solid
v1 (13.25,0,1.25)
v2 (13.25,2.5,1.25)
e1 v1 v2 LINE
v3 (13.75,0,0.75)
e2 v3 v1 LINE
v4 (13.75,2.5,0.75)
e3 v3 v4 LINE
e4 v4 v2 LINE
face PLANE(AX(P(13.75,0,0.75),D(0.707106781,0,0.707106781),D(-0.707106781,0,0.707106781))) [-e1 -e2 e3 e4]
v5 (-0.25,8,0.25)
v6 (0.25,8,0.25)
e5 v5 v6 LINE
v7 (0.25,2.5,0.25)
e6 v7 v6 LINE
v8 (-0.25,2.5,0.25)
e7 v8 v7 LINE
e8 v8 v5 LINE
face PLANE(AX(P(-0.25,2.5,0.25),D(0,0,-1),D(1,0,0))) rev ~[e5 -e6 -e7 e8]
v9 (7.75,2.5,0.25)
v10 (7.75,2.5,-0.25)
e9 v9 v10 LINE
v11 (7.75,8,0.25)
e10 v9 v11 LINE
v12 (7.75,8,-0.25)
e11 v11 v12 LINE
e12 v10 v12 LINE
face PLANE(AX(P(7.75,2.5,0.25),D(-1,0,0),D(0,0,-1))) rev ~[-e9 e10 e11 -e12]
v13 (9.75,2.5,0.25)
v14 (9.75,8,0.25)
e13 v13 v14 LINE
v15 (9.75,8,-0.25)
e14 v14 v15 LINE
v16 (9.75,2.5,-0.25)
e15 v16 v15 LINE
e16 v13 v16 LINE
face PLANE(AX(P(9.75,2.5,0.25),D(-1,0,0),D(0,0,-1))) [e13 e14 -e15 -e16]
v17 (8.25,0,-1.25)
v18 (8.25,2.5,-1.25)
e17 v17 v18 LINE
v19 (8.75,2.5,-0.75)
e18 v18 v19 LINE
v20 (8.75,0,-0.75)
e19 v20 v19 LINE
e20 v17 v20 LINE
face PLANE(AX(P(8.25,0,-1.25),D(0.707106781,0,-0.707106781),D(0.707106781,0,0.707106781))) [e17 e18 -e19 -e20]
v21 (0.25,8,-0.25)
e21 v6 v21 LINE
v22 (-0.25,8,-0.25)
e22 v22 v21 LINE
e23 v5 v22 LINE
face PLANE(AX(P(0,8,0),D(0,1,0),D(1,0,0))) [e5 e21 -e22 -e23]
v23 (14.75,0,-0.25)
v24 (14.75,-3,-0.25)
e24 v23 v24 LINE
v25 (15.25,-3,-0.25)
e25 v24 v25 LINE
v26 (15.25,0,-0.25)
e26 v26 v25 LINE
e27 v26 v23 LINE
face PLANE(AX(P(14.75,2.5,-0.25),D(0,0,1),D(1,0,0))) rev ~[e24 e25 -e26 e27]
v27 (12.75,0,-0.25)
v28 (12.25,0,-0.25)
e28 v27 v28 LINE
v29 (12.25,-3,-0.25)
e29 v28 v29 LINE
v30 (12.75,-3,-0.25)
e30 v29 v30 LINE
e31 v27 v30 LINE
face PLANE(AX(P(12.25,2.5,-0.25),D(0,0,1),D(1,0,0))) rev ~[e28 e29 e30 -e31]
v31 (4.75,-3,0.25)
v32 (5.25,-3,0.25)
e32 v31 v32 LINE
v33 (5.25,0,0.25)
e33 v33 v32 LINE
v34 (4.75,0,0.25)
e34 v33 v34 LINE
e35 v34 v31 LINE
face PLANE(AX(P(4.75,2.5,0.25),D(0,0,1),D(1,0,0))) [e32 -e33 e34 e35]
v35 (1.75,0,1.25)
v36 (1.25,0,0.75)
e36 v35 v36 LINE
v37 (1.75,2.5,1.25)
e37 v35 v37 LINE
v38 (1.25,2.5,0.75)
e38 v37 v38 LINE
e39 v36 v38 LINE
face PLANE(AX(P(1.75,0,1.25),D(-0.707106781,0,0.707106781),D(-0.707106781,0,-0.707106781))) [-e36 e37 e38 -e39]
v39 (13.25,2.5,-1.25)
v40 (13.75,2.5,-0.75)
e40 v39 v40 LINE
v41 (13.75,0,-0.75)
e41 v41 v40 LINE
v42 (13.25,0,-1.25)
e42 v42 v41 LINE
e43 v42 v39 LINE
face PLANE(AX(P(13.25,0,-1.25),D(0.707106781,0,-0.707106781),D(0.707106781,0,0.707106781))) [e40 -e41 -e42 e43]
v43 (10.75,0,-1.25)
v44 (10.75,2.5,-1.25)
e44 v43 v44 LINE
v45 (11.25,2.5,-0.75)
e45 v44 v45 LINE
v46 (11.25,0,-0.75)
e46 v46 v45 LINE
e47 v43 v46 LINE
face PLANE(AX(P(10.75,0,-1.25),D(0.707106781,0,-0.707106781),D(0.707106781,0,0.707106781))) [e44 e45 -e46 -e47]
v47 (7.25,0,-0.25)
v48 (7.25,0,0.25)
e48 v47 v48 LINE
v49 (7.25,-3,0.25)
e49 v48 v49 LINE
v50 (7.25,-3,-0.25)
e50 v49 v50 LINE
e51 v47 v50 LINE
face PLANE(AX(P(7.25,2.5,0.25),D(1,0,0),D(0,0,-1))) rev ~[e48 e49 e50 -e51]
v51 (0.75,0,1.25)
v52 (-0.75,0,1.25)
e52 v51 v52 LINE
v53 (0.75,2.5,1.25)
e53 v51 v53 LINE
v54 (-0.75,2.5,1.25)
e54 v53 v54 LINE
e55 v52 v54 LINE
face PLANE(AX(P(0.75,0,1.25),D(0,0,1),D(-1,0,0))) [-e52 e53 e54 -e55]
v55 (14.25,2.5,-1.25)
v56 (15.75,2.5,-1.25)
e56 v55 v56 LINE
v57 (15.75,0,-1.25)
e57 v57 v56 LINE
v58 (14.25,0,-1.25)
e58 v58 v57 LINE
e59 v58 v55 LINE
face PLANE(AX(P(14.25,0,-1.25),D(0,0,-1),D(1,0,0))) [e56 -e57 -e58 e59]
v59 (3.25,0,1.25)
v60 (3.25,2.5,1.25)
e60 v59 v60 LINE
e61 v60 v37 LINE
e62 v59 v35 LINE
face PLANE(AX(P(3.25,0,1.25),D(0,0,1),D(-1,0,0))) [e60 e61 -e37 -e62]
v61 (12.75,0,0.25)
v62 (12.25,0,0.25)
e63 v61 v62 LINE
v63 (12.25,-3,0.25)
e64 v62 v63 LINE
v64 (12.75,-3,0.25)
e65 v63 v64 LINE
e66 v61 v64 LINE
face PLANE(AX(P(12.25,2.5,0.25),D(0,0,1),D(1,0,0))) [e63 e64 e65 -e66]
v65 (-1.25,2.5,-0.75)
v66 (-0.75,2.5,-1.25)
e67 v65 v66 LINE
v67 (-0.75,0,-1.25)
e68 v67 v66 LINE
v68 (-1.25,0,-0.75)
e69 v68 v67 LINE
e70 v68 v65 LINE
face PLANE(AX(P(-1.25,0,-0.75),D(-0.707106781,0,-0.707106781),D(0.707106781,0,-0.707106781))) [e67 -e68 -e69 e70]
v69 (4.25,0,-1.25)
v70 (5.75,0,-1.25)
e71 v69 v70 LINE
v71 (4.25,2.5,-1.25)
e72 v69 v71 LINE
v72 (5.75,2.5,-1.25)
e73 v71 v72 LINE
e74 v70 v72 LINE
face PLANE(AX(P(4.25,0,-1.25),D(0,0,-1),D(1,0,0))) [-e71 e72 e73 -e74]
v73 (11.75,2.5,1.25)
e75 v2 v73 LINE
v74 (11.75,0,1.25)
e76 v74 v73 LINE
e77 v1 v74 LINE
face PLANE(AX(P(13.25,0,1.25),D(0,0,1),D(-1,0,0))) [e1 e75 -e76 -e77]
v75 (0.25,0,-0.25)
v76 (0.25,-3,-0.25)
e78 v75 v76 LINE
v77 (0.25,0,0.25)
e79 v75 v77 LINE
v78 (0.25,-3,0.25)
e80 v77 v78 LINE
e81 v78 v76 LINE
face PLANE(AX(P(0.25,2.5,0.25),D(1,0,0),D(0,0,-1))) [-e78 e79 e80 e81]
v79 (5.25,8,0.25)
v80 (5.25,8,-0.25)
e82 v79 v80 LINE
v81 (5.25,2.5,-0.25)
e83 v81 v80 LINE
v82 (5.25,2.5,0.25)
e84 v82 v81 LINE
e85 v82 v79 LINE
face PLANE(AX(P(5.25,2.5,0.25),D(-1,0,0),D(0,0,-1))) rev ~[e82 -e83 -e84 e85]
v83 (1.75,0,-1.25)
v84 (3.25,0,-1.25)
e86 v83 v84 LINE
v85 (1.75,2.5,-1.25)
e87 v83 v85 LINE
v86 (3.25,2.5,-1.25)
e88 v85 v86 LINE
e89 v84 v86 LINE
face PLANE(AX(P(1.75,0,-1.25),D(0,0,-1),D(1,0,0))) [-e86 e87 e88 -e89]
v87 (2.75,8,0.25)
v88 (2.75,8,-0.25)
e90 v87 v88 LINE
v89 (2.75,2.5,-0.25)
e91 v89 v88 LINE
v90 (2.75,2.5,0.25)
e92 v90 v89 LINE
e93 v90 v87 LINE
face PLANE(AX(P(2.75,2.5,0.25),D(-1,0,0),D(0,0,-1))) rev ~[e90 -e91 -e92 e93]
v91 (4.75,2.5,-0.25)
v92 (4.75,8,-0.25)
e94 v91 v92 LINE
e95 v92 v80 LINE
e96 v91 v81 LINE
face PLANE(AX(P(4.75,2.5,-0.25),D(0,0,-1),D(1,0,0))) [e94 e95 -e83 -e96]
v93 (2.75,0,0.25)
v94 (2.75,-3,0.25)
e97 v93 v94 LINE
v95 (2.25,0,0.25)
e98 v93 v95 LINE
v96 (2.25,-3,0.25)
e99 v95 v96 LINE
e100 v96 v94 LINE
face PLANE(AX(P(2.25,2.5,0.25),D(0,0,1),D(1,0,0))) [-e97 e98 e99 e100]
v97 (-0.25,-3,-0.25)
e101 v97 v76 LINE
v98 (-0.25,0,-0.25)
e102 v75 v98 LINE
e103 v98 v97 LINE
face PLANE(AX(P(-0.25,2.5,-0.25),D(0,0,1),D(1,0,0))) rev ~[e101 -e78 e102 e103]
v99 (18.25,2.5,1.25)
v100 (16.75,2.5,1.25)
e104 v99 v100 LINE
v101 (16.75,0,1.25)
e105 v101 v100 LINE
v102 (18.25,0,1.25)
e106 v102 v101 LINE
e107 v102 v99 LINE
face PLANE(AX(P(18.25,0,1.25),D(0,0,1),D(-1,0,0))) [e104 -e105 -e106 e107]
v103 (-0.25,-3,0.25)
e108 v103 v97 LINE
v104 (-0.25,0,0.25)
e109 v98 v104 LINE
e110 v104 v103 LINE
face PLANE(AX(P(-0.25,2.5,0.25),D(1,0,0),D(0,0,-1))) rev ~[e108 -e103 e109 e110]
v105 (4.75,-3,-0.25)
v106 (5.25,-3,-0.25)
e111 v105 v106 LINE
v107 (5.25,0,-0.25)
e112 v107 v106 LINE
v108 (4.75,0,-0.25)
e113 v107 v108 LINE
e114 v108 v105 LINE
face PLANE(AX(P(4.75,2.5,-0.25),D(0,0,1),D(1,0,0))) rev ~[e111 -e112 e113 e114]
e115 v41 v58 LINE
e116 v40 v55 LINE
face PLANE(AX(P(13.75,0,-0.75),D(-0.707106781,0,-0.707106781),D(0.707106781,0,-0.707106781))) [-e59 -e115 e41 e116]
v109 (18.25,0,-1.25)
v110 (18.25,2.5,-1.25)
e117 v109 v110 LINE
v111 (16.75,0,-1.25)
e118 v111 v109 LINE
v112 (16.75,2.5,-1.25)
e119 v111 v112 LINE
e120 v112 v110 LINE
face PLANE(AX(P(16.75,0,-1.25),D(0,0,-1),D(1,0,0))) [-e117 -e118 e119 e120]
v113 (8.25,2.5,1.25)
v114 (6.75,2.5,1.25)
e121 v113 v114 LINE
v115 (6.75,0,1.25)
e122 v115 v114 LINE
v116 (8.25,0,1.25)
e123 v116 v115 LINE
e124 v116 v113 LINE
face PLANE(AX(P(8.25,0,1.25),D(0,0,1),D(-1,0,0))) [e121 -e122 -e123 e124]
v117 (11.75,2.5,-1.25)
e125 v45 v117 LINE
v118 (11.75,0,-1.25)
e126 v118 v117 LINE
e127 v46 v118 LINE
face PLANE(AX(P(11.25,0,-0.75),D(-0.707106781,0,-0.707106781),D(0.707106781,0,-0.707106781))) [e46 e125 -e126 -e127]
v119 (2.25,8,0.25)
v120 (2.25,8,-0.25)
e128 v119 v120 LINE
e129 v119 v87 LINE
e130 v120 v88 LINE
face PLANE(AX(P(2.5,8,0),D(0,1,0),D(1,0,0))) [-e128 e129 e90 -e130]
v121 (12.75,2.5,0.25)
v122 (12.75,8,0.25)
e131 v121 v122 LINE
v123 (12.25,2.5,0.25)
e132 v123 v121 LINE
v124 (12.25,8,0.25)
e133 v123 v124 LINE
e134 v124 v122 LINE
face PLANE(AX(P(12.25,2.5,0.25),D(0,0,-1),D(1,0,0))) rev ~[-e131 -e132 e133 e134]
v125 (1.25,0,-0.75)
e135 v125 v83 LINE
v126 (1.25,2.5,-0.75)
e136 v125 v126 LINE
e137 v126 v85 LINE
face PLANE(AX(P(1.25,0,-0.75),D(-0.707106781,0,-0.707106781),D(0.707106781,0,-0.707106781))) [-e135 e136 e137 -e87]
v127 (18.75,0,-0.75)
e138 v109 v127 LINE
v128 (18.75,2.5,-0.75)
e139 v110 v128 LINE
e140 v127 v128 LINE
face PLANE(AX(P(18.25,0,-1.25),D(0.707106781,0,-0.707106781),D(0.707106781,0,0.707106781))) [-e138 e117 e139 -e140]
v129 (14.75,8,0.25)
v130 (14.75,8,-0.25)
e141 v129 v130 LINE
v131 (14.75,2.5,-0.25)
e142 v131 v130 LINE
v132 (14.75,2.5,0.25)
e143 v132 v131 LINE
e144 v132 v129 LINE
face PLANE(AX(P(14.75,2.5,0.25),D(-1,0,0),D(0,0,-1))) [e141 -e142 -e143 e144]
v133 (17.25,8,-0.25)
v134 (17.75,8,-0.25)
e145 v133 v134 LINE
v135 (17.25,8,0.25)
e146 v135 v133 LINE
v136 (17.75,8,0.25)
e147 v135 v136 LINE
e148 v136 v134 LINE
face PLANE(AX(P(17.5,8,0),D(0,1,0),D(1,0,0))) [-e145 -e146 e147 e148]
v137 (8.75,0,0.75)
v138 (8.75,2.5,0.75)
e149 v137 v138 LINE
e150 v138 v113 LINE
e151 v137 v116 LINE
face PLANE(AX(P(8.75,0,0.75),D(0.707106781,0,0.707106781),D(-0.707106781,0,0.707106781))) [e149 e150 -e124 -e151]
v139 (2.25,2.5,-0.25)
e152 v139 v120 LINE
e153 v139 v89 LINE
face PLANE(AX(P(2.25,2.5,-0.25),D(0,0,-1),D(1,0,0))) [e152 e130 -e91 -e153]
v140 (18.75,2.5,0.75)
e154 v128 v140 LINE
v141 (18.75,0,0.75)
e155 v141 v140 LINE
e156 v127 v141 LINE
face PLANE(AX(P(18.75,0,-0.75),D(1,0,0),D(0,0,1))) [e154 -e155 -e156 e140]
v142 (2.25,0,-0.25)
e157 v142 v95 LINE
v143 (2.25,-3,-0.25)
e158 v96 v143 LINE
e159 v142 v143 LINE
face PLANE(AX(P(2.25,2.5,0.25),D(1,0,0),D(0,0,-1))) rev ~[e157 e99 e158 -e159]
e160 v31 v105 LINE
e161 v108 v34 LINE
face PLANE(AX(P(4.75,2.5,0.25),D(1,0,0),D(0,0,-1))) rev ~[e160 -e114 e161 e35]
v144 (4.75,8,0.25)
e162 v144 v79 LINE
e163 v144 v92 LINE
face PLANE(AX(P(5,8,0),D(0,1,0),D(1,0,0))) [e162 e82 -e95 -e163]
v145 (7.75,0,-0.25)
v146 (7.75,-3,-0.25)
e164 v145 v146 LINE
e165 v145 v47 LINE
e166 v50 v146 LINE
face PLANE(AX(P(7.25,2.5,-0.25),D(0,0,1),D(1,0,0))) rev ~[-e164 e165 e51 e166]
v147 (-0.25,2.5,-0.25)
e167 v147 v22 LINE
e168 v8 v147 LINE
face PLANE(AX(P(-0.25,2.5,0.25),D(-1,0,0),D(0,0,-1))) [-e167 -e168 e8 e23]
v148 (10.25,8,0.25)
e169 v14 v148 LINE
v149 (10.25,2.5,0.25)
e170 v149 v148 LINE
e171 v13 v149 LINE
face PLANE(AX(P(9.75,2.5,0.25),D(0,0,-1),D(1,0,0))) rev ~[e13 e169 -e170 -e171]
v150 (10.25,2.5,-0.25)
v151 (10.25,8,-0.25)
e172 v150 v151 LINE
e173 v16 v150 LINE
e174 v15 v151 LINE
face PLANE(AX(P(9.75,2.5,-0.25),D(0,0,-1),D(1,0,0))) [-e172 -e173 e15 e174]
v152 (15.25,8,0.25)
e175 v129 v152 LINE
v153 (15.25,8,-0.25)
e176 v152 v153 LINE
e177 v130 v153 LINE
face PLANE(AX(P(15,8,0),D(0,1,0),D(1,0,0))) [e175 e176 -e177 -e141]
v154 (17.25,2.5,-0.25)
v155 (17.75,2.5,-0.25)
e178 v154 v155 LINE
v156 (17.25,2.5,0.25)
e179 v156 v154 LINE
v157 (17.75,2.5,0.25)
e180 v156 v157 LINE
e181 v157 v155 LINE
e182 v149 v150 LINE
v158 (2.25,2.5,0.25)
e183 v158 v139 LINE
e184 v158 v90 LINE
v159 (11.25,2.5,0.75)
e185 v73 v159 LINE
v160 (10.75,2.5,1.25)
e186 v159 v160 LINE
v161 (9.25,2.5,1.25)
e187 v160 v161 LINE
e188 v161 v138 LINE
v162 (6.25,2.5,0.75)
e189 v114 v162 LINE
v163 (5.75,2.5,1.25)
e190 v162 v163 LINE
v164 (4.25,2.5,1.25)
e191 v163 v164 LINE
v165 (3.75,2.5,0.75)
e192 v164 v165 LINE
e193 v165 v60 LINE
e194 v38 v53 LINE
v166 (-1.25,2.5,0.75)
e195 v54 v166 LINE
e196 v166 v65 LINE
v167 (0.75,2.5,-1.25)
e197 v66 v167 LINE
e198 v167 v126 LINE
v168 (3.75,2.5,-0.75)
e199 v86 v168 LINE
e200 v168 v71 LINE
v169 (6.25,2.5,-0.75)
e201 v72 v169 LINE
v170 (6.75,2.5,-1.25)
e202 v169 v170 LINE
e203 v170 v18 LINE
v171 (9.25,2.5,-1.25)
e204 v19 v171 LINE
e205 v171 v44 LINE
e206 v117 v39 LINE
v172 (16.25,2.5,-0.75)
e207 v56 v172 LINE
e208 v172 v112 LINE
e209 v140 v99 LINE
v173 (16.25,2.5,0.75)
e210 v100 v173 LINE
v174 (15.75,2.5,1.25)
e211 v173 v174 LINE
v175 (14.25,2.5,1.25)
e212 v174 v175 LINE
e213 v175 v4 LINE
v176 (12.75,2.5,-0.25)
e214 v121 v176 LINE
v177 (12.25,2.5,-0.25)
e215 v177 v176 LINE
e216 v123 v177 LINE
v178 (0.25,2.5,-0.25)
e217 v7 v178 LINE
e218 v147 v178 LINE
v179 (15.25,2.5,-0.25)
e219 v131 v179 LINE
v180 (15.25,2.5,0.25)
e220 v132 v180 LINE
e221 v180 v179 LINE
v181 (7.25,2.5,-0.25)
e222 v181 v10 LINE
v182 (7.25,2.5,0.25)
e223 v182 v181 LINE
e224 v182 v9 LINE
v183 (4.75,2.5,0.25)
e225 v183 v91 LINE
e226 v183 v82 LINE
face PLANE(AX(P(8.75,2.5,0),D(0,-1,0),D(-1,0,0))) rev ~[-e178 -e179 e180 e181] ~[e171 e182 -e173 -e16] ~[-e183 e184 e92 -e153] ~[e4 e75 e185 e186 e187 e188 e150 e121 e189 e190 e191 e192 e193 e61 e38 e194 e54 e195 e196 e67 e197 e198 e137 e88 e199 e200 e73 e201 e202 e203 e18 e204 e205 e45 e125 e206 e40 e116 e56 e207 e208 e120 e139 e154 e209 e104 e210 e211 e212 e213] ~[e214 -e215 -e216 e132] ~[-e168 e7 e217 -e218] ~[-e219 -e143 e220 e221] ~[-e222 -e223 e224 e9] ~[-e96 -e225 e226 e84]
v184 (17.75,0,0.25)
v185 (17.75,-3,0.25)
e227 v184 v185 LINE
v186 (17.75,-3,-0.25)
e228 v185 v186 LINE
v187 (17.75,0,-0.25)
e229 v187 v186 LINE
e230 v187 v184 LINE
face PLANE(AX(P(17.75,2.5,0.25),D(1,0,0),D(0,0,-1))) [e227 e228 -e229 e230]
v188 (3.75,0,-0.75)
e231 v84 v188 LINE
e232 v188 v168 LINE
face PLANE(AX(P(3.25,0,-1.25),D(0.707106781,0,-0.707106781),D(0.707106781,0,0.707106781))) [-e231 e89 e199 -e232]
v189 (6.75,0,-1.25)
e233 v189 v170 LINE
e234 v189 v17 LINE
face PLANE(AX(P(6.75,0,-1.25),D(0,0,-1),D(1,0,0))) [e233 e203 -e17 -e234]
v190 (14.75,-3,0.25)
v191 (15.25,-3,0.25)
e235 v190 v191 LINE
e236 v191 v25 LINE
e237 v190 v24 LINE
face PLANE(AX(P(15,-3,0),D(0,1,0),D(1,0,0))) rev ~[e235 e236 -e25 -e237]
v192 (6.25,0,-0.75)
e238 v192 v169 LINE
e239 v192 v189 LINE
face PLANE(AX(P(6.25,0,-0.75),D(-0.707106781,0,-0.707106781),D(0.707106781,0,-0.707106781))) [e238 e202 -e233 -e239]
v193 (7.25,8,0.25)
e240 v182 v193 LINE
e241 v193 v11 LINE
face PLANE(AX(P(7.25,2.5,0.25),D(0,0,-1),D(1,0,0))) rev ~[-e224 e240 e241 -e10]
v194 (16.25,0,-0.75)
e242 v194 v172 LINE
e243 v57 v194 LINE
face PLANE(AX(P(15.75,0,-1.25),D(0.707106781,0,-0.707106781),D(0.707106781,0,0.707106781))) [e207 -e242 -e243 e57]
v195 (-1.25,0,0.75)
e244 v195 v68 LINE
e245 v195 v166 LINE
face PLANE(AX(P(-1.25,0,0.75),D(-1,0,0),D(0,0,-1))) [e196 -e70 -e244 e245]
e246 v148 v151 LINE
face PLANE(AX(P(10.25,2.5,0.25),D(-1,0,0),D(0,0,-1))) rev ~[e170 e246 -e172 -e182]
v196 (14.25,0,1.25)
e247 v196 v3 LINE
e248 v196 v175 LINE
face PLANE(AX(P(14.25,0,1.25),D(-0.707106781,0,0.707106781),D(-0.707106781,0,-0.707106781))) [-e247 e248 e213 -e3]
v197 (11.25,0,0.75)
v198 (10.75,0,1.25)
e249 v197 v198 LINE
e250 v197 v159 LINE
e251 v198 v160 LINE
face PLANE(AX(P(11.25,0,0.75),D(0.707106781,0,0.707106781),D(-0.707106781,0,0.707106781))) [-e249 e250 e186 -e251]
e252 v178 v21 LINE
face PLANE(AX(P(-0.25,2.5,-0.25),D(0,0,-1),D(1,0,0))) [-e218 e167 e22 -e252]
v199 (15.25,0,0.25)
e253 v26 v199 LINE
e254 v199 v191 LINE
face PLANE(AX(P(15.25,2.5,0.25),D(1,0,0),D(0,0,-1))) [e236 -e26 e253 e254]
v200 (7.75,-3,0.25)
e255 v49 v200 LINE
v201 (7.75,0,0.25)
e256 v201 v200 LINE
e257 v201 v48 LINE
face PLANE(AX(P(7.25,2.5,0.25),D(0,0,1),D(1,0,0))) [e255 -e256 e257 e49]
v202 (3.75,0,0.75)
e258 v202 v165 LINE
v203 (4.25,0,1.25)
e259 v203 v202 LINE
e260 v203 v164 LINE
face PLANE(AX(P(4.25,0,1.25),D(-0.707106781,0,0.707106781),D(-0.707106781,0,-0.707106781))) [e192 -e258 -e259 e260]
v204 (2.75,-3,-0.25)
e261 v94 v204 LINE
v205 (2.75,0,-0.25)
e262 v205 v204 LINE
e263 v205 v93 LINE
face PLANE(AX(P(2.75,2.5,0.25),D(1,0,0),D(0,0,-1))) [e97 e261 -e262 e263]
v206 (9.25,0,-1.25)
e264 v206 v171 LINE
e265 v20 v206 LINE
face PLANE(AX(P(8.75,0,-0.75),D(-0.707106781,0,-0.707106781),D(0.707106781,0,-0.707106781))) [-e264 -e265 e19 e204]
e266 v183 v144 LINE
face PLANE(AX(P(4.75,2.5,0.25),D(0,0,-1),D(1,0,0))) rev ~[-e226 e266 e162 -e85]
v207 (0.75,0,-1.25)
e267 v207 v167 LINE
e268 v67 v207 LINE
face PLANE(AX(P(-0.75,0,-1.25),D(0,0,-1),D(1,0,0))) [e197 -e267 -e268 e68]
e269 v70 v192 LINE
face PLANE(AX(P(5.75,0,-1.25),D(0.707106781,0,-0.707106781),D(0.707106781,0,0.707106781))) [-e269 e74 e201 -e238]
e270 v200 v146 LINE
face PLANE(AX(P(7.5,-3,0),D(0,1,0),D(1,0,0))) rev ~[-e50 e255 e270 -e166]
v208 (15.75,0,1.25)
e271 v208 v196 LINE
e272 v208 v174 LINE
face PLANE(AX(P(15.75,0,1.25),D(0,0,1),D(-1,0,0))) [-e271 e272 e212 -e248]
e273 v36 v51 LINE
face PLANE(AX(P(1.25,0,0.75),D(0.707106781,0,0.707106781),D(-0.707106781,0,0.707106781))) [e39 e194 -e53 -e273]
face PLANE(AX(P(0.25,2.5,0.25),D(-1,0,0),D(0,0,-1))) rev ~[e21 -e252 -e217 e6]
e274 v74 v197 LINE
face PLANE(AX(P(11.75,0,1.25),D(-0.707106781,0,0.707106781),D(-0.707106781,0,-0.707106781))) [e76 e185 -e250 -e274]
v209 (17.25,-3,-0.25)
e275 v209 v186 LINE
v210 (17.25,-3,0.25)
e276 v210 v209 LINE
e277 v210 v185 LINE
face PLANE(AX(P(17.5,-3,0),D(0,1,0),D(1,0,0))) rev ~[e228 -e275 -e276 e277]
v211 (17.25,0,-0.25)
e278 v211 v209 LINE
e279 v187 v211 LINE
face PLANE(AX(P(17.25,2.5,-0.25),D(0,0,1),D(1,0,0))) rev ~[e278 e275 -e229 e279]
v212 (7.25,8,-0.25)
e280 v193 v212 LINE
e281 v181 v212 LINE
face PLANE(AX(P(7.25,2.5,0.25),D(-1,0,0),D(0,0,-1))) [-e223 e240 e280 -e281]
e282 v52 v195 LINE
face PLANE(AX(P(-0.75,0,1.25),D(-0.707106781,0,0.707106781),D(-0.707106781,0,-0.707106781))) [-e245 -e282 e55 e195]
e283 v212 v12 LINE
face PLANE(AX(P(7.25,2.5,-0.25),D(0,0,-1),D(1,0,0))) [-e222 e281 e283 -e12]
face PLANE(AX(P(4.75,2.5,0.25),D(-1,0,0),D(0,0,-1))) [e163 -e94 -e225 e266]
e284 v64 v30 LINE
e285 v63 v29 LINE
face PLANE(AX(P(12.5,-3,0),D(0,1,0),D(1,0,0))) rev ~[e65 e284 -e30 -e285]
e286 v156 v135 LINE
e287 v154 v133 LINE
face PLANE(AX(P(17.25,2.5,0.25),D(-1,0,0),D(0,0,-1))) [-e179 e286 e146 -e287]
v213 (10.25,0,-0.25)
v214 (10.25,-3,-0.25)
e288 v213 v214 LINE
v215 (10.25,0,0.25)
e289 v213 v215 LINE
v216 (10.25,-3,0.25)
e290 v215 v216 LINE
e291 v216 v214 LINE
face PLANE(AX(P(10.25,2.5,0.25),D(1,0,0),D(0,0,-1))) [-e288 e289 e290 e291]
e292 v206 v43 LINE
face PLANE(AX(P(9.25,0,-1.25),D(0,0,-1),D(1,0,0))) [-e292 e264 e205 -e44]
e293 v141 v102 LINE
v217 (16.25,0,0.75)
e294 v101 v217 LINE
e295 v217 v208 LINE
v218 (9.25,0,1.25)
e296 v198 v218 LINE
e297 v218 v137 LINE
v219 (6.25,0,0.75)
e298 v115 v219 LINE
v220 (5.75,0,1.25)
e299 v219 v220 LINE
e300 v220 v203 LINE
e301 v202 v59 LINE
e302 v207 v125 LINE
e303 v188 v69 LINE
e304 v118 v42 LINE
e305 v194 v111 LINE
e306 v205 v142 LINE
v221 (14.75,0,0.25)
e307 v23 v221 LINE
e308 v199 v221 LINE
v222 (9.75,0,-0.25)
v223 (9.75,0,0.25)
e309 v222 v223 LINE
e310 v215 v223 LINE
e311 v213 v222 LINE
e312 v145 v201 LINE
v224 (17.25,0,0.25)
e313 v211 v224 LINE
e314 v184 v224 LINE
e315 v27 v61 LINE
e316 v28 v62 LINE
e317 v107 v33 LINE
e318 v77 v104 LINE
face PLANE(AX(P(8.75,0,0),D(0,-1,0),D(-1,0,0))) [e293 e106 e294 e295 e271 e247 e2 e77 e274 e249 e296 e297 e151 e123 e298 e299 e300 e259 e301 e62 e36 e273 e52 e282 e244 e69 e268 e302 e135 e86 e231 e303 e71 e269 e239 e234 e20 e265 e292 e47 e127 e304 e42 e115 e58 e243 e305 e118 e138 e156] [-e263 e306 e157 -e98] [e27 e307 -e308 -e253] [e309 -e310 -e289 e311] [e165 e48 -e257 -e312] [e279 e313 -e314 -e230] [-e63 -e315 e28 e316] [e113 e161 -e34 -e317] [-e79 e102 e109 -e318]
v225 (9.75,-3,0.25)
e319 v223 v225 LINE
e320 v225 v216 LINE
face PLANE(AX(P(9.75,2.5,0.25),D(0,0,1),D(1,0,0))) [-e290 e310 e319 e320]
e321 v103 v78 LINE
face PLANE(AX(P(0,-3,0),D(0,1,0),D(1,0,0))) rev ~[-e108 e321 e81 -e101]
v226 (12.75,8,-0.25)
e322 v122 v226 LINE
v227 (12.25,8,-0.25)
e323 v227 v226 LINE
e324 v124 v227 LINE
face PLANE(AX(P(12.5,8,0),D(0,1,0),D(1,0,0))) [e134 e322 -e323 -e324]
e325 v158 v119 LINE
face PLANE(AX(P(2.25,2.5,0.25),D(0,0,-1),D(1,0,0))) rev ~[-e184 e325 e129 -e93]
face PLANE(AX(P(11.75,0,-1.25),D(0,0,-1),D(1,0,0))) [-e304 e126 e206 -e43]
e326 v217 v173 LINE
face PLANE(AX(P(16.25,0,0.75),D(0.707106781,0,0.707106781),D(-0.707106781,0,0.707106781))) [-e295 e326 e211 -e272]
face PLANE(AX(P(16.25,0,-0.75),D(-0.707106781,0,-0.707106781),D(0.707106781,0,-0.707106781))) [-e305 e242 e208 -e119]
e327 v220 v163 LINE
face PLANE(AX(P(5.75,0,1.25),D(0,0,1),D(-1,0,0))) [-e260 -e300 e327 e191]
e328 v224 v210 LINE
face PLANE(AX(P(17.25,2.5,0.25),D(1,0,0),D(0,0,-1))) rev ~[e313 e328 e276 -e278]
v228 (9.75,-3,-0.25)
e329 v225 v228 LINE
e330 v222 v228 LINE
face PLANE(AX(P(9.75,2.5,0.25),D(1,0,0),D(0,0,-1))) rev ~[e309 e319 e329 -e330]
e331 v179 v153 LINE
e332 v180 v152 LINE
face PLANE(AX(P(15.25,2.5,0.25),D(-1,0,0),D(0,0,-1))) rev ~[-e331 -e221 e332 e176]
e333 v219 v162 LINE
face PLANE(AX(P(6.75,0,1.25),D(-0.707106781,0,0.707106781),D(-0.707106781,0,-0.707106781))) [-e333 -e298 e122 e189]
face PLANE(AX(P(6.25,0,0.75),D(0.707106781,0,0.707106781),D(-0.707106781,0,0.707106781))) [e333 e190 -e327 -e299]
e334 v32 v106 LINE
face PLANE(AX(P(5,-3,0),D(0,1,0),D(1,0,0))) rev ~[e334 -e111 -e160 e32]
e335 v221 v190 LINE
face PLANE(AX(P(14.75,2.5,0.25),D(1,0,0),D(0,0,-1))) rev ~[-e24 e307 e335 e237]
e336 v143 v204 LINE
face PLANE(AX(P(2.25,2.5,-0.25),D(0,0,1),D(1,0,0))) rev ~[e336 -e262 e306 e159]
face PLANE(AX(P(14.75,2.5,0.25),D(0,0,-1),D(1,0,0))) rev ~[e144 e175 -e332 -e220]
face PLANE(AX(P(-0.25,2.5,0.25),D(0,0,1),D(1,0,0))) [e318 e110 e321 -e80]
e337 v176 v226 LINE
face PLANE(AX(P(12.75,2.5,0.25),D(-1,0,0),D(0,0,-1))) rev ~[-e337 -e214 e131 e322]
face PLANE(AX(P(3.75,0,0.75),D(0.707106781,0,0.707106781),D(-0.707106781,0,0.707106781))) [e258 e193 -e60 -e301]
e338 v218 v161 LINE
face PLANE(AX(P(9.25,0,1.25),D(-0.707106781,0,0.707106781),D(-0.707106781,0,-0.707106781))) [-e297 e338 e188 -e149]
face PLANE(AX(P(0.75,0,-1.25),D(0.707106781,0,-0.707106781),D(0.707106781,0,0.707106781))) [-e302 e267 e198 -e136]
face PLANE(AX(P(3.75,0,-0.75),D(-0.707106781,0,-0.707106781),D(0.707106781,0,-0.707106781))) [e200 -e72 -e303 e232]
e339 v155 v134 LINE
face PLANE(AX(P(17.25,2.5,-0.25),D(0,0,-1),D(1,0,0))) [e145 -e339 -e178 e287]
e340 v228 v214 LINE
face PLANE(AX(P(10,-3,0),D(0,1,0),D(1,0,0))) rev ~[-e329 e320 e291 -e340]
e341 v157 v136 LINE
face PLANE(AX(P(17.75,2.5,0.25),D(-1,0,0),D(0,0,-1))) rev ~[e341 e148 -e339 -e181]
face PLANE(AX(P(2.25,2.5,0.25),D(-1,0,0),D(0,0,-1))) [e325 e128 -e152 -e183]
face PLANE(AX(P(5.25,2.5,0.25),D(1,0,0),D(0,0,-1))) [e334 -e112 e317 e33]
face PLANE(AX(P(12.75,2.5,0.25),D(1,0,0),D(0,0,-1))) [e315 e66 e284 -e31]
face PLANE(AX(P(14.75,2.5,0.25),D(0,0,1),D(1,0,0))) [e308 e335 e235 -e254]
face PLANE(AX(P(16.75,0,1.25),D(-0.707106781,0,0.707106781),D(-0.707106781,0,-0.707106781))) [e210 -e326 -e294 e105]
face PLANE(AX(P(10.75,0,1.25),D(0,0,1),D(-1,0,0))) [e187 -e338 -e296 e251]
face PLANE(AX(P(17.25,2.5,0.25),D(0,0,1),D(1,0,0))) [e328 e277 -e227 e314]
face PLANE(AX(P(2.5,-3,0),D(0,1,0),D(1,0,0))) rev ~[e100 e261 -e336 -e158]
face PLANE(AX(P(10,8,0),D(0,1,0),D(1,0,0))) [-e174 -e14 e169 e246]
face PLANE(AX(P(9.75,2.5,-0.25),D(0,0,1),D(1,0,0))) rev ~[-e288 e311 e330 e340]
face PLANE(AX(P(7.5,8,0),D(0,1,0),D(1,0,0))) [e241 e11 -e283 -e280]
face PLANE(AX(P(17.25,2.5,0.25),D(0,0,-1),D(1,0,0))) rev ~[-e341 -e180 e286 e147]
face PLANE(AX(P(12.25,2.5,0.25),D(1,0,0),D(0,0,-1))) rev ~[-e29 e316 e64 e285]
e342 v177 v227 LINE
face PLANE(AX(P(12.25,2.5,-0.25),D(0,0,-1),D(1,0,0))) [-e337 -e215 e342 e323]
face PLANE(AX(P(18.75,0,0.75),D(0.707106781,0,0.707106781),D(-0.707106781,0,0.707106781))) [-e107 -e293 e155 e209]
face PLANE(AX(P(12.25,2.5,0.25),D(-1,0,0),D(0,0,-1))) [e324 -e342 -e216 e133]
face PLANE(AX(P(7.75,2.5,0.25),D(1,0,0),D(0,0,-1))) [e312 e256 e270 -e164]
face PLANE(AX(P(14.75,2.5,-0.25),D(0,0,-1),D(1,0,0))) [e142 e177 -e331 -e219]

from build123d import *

# Parameters (mm, degrees)
BOSS_EXTRUDE1_DEPTH = 2.5
SKETCH2_W           = 0.5
SKETCH2_H           = 0.5
BOSS_EXTRUDE2_DEPTH = 5.5
SKETCH2_2_W         = 0.5
SKETCH2_2_H         = 0.5
BOSS_EXTRUDE3_DEPTH = 5.5


with BuildPart() as part:
    # Sketch1 → Boss-Extrude1 (new body)
    with BuildSketch(Plane(origin=(0, 0, 0), x_dir=(1, 0, 0), z_dir=(0, 1, 0))):
        Polygon((-1.25, 0.75), (-0.75, 1.25), (0.75, 1.25), (1.25, 0.75), (1.75, 1.25), (3.25, 1.25), (3.75, 0.75), (4.25, 1.25), (5.75, 1.25), (6.25, 0.75), (6.75, 1.25), (8.25, 1.25), (8.75, 0.75), (9.25, 1.25), (10.75, 1.25), (11.25, 0.75), (11.75, 1.25), (13.25, 1.25), (13.75, 0.75), (14.25, 1.25), (15.75, 1.25), (16.25, 0.75), (16.75, 1.25), (18.25, 1.25), (18.75, 0.75), (18.75, -0.75), (18.25, -1.25), (16.75, -1.25), (16.25, -0.75), (15.75, -1.25), (14.25, -1.25), (13.75, -0.75), (13.25, -1.25), (11.75, -1.25), (11.25, -0.75), (10.75, -1.25), (9.25, -1.25), (8.75, -0.75), (8.25, -1.25), (6.75, -1.25), (6.25, -0.75), (5.75, -1.25), (4.25, -1.25), (3.75, -0.75), (3.25, -1.25), (1.75, -1.25), (1.25, -0.75), (0.75, -1.25), (-0.75, -1.25), (-1.25, -0.75), align=None)
    extrude(amount=BOSS_EXTRUDE1_DEPTH)

    # Sketch2 → Boss-Extrude2 (add)
    with BuildSketch(Plane(origin=(0, 2.5, 0), x_dir=(1, 0, 0), z_dir=(0, 1, 0))):
        with Locations((2.5, 0)):
            Rectangle(SKETCH2_W, SKETCH2_H)
        Rectangle(SKETCH2_W, SKETCH2_H)
        with Locations((5, 0)):
            Rectangle(SKETCH2_W, SKETCH2_H)
        with Locations((7.5, 0)):
            Rectangle(SKETCH2_W, SKETCH2_H)
        with Locations((10, 0)):
            Rectangle(SKETCH2_W, SKETCH2_H)
        with Locations((12.5, 0)):
            Rectangle(SKETCH2_W, SKETCH2_H)
        with Locations((15, 0)):
            Rectangle(SKETCH2_W, SKETCH2_H)
        with Locations((17.5, 0)):
            Rectangle(SKETCH2_W, SKETCH2_H)
    extrude(amount=BOSS_EXTRUDE2_DEPTH)

    # Sketch2<2> → Boss-Extrude3 (add)
    with BuildSketch(Plane(origin=(0, 2.5, 0), x_dir=(1, 0, 0), z_dir=(0, 1, 0))):
        with Locations((2.5, 0)):
            Rectangle(SKETCH2_2_W, SKETCH2_2_H)
        Rectangle(SKETCH2_2_W, SKETCH2_2_H)
        with Locations((5, 0)):
            Rectangle(SKETCH2_2_W, SKETCH2_2_H)
        with Locations((7.5, 0)):
            Rectangle(SKETCH2_2_W, SKETCH2_2_H)
        with Locations((10, 0)):
            Rectangle(SKETCH2_2_W, SKETCH2_2_H)
        with Locations((12.5, 0)):
            Rectangle(SKETCH2_2_W, SKETCH2_2_H)
        with Locations((15, 0)):
            Rectangle(SKETCH2_2_W, SKETCH2_2_H)
        with Locations((17.5, 0)):
            Rectangle(SKETCH2_2_W, SKETCH2_2_H)
    extrude(amount=-BOSS_EXTRUDE3_DEPTH)


solid = part.part
